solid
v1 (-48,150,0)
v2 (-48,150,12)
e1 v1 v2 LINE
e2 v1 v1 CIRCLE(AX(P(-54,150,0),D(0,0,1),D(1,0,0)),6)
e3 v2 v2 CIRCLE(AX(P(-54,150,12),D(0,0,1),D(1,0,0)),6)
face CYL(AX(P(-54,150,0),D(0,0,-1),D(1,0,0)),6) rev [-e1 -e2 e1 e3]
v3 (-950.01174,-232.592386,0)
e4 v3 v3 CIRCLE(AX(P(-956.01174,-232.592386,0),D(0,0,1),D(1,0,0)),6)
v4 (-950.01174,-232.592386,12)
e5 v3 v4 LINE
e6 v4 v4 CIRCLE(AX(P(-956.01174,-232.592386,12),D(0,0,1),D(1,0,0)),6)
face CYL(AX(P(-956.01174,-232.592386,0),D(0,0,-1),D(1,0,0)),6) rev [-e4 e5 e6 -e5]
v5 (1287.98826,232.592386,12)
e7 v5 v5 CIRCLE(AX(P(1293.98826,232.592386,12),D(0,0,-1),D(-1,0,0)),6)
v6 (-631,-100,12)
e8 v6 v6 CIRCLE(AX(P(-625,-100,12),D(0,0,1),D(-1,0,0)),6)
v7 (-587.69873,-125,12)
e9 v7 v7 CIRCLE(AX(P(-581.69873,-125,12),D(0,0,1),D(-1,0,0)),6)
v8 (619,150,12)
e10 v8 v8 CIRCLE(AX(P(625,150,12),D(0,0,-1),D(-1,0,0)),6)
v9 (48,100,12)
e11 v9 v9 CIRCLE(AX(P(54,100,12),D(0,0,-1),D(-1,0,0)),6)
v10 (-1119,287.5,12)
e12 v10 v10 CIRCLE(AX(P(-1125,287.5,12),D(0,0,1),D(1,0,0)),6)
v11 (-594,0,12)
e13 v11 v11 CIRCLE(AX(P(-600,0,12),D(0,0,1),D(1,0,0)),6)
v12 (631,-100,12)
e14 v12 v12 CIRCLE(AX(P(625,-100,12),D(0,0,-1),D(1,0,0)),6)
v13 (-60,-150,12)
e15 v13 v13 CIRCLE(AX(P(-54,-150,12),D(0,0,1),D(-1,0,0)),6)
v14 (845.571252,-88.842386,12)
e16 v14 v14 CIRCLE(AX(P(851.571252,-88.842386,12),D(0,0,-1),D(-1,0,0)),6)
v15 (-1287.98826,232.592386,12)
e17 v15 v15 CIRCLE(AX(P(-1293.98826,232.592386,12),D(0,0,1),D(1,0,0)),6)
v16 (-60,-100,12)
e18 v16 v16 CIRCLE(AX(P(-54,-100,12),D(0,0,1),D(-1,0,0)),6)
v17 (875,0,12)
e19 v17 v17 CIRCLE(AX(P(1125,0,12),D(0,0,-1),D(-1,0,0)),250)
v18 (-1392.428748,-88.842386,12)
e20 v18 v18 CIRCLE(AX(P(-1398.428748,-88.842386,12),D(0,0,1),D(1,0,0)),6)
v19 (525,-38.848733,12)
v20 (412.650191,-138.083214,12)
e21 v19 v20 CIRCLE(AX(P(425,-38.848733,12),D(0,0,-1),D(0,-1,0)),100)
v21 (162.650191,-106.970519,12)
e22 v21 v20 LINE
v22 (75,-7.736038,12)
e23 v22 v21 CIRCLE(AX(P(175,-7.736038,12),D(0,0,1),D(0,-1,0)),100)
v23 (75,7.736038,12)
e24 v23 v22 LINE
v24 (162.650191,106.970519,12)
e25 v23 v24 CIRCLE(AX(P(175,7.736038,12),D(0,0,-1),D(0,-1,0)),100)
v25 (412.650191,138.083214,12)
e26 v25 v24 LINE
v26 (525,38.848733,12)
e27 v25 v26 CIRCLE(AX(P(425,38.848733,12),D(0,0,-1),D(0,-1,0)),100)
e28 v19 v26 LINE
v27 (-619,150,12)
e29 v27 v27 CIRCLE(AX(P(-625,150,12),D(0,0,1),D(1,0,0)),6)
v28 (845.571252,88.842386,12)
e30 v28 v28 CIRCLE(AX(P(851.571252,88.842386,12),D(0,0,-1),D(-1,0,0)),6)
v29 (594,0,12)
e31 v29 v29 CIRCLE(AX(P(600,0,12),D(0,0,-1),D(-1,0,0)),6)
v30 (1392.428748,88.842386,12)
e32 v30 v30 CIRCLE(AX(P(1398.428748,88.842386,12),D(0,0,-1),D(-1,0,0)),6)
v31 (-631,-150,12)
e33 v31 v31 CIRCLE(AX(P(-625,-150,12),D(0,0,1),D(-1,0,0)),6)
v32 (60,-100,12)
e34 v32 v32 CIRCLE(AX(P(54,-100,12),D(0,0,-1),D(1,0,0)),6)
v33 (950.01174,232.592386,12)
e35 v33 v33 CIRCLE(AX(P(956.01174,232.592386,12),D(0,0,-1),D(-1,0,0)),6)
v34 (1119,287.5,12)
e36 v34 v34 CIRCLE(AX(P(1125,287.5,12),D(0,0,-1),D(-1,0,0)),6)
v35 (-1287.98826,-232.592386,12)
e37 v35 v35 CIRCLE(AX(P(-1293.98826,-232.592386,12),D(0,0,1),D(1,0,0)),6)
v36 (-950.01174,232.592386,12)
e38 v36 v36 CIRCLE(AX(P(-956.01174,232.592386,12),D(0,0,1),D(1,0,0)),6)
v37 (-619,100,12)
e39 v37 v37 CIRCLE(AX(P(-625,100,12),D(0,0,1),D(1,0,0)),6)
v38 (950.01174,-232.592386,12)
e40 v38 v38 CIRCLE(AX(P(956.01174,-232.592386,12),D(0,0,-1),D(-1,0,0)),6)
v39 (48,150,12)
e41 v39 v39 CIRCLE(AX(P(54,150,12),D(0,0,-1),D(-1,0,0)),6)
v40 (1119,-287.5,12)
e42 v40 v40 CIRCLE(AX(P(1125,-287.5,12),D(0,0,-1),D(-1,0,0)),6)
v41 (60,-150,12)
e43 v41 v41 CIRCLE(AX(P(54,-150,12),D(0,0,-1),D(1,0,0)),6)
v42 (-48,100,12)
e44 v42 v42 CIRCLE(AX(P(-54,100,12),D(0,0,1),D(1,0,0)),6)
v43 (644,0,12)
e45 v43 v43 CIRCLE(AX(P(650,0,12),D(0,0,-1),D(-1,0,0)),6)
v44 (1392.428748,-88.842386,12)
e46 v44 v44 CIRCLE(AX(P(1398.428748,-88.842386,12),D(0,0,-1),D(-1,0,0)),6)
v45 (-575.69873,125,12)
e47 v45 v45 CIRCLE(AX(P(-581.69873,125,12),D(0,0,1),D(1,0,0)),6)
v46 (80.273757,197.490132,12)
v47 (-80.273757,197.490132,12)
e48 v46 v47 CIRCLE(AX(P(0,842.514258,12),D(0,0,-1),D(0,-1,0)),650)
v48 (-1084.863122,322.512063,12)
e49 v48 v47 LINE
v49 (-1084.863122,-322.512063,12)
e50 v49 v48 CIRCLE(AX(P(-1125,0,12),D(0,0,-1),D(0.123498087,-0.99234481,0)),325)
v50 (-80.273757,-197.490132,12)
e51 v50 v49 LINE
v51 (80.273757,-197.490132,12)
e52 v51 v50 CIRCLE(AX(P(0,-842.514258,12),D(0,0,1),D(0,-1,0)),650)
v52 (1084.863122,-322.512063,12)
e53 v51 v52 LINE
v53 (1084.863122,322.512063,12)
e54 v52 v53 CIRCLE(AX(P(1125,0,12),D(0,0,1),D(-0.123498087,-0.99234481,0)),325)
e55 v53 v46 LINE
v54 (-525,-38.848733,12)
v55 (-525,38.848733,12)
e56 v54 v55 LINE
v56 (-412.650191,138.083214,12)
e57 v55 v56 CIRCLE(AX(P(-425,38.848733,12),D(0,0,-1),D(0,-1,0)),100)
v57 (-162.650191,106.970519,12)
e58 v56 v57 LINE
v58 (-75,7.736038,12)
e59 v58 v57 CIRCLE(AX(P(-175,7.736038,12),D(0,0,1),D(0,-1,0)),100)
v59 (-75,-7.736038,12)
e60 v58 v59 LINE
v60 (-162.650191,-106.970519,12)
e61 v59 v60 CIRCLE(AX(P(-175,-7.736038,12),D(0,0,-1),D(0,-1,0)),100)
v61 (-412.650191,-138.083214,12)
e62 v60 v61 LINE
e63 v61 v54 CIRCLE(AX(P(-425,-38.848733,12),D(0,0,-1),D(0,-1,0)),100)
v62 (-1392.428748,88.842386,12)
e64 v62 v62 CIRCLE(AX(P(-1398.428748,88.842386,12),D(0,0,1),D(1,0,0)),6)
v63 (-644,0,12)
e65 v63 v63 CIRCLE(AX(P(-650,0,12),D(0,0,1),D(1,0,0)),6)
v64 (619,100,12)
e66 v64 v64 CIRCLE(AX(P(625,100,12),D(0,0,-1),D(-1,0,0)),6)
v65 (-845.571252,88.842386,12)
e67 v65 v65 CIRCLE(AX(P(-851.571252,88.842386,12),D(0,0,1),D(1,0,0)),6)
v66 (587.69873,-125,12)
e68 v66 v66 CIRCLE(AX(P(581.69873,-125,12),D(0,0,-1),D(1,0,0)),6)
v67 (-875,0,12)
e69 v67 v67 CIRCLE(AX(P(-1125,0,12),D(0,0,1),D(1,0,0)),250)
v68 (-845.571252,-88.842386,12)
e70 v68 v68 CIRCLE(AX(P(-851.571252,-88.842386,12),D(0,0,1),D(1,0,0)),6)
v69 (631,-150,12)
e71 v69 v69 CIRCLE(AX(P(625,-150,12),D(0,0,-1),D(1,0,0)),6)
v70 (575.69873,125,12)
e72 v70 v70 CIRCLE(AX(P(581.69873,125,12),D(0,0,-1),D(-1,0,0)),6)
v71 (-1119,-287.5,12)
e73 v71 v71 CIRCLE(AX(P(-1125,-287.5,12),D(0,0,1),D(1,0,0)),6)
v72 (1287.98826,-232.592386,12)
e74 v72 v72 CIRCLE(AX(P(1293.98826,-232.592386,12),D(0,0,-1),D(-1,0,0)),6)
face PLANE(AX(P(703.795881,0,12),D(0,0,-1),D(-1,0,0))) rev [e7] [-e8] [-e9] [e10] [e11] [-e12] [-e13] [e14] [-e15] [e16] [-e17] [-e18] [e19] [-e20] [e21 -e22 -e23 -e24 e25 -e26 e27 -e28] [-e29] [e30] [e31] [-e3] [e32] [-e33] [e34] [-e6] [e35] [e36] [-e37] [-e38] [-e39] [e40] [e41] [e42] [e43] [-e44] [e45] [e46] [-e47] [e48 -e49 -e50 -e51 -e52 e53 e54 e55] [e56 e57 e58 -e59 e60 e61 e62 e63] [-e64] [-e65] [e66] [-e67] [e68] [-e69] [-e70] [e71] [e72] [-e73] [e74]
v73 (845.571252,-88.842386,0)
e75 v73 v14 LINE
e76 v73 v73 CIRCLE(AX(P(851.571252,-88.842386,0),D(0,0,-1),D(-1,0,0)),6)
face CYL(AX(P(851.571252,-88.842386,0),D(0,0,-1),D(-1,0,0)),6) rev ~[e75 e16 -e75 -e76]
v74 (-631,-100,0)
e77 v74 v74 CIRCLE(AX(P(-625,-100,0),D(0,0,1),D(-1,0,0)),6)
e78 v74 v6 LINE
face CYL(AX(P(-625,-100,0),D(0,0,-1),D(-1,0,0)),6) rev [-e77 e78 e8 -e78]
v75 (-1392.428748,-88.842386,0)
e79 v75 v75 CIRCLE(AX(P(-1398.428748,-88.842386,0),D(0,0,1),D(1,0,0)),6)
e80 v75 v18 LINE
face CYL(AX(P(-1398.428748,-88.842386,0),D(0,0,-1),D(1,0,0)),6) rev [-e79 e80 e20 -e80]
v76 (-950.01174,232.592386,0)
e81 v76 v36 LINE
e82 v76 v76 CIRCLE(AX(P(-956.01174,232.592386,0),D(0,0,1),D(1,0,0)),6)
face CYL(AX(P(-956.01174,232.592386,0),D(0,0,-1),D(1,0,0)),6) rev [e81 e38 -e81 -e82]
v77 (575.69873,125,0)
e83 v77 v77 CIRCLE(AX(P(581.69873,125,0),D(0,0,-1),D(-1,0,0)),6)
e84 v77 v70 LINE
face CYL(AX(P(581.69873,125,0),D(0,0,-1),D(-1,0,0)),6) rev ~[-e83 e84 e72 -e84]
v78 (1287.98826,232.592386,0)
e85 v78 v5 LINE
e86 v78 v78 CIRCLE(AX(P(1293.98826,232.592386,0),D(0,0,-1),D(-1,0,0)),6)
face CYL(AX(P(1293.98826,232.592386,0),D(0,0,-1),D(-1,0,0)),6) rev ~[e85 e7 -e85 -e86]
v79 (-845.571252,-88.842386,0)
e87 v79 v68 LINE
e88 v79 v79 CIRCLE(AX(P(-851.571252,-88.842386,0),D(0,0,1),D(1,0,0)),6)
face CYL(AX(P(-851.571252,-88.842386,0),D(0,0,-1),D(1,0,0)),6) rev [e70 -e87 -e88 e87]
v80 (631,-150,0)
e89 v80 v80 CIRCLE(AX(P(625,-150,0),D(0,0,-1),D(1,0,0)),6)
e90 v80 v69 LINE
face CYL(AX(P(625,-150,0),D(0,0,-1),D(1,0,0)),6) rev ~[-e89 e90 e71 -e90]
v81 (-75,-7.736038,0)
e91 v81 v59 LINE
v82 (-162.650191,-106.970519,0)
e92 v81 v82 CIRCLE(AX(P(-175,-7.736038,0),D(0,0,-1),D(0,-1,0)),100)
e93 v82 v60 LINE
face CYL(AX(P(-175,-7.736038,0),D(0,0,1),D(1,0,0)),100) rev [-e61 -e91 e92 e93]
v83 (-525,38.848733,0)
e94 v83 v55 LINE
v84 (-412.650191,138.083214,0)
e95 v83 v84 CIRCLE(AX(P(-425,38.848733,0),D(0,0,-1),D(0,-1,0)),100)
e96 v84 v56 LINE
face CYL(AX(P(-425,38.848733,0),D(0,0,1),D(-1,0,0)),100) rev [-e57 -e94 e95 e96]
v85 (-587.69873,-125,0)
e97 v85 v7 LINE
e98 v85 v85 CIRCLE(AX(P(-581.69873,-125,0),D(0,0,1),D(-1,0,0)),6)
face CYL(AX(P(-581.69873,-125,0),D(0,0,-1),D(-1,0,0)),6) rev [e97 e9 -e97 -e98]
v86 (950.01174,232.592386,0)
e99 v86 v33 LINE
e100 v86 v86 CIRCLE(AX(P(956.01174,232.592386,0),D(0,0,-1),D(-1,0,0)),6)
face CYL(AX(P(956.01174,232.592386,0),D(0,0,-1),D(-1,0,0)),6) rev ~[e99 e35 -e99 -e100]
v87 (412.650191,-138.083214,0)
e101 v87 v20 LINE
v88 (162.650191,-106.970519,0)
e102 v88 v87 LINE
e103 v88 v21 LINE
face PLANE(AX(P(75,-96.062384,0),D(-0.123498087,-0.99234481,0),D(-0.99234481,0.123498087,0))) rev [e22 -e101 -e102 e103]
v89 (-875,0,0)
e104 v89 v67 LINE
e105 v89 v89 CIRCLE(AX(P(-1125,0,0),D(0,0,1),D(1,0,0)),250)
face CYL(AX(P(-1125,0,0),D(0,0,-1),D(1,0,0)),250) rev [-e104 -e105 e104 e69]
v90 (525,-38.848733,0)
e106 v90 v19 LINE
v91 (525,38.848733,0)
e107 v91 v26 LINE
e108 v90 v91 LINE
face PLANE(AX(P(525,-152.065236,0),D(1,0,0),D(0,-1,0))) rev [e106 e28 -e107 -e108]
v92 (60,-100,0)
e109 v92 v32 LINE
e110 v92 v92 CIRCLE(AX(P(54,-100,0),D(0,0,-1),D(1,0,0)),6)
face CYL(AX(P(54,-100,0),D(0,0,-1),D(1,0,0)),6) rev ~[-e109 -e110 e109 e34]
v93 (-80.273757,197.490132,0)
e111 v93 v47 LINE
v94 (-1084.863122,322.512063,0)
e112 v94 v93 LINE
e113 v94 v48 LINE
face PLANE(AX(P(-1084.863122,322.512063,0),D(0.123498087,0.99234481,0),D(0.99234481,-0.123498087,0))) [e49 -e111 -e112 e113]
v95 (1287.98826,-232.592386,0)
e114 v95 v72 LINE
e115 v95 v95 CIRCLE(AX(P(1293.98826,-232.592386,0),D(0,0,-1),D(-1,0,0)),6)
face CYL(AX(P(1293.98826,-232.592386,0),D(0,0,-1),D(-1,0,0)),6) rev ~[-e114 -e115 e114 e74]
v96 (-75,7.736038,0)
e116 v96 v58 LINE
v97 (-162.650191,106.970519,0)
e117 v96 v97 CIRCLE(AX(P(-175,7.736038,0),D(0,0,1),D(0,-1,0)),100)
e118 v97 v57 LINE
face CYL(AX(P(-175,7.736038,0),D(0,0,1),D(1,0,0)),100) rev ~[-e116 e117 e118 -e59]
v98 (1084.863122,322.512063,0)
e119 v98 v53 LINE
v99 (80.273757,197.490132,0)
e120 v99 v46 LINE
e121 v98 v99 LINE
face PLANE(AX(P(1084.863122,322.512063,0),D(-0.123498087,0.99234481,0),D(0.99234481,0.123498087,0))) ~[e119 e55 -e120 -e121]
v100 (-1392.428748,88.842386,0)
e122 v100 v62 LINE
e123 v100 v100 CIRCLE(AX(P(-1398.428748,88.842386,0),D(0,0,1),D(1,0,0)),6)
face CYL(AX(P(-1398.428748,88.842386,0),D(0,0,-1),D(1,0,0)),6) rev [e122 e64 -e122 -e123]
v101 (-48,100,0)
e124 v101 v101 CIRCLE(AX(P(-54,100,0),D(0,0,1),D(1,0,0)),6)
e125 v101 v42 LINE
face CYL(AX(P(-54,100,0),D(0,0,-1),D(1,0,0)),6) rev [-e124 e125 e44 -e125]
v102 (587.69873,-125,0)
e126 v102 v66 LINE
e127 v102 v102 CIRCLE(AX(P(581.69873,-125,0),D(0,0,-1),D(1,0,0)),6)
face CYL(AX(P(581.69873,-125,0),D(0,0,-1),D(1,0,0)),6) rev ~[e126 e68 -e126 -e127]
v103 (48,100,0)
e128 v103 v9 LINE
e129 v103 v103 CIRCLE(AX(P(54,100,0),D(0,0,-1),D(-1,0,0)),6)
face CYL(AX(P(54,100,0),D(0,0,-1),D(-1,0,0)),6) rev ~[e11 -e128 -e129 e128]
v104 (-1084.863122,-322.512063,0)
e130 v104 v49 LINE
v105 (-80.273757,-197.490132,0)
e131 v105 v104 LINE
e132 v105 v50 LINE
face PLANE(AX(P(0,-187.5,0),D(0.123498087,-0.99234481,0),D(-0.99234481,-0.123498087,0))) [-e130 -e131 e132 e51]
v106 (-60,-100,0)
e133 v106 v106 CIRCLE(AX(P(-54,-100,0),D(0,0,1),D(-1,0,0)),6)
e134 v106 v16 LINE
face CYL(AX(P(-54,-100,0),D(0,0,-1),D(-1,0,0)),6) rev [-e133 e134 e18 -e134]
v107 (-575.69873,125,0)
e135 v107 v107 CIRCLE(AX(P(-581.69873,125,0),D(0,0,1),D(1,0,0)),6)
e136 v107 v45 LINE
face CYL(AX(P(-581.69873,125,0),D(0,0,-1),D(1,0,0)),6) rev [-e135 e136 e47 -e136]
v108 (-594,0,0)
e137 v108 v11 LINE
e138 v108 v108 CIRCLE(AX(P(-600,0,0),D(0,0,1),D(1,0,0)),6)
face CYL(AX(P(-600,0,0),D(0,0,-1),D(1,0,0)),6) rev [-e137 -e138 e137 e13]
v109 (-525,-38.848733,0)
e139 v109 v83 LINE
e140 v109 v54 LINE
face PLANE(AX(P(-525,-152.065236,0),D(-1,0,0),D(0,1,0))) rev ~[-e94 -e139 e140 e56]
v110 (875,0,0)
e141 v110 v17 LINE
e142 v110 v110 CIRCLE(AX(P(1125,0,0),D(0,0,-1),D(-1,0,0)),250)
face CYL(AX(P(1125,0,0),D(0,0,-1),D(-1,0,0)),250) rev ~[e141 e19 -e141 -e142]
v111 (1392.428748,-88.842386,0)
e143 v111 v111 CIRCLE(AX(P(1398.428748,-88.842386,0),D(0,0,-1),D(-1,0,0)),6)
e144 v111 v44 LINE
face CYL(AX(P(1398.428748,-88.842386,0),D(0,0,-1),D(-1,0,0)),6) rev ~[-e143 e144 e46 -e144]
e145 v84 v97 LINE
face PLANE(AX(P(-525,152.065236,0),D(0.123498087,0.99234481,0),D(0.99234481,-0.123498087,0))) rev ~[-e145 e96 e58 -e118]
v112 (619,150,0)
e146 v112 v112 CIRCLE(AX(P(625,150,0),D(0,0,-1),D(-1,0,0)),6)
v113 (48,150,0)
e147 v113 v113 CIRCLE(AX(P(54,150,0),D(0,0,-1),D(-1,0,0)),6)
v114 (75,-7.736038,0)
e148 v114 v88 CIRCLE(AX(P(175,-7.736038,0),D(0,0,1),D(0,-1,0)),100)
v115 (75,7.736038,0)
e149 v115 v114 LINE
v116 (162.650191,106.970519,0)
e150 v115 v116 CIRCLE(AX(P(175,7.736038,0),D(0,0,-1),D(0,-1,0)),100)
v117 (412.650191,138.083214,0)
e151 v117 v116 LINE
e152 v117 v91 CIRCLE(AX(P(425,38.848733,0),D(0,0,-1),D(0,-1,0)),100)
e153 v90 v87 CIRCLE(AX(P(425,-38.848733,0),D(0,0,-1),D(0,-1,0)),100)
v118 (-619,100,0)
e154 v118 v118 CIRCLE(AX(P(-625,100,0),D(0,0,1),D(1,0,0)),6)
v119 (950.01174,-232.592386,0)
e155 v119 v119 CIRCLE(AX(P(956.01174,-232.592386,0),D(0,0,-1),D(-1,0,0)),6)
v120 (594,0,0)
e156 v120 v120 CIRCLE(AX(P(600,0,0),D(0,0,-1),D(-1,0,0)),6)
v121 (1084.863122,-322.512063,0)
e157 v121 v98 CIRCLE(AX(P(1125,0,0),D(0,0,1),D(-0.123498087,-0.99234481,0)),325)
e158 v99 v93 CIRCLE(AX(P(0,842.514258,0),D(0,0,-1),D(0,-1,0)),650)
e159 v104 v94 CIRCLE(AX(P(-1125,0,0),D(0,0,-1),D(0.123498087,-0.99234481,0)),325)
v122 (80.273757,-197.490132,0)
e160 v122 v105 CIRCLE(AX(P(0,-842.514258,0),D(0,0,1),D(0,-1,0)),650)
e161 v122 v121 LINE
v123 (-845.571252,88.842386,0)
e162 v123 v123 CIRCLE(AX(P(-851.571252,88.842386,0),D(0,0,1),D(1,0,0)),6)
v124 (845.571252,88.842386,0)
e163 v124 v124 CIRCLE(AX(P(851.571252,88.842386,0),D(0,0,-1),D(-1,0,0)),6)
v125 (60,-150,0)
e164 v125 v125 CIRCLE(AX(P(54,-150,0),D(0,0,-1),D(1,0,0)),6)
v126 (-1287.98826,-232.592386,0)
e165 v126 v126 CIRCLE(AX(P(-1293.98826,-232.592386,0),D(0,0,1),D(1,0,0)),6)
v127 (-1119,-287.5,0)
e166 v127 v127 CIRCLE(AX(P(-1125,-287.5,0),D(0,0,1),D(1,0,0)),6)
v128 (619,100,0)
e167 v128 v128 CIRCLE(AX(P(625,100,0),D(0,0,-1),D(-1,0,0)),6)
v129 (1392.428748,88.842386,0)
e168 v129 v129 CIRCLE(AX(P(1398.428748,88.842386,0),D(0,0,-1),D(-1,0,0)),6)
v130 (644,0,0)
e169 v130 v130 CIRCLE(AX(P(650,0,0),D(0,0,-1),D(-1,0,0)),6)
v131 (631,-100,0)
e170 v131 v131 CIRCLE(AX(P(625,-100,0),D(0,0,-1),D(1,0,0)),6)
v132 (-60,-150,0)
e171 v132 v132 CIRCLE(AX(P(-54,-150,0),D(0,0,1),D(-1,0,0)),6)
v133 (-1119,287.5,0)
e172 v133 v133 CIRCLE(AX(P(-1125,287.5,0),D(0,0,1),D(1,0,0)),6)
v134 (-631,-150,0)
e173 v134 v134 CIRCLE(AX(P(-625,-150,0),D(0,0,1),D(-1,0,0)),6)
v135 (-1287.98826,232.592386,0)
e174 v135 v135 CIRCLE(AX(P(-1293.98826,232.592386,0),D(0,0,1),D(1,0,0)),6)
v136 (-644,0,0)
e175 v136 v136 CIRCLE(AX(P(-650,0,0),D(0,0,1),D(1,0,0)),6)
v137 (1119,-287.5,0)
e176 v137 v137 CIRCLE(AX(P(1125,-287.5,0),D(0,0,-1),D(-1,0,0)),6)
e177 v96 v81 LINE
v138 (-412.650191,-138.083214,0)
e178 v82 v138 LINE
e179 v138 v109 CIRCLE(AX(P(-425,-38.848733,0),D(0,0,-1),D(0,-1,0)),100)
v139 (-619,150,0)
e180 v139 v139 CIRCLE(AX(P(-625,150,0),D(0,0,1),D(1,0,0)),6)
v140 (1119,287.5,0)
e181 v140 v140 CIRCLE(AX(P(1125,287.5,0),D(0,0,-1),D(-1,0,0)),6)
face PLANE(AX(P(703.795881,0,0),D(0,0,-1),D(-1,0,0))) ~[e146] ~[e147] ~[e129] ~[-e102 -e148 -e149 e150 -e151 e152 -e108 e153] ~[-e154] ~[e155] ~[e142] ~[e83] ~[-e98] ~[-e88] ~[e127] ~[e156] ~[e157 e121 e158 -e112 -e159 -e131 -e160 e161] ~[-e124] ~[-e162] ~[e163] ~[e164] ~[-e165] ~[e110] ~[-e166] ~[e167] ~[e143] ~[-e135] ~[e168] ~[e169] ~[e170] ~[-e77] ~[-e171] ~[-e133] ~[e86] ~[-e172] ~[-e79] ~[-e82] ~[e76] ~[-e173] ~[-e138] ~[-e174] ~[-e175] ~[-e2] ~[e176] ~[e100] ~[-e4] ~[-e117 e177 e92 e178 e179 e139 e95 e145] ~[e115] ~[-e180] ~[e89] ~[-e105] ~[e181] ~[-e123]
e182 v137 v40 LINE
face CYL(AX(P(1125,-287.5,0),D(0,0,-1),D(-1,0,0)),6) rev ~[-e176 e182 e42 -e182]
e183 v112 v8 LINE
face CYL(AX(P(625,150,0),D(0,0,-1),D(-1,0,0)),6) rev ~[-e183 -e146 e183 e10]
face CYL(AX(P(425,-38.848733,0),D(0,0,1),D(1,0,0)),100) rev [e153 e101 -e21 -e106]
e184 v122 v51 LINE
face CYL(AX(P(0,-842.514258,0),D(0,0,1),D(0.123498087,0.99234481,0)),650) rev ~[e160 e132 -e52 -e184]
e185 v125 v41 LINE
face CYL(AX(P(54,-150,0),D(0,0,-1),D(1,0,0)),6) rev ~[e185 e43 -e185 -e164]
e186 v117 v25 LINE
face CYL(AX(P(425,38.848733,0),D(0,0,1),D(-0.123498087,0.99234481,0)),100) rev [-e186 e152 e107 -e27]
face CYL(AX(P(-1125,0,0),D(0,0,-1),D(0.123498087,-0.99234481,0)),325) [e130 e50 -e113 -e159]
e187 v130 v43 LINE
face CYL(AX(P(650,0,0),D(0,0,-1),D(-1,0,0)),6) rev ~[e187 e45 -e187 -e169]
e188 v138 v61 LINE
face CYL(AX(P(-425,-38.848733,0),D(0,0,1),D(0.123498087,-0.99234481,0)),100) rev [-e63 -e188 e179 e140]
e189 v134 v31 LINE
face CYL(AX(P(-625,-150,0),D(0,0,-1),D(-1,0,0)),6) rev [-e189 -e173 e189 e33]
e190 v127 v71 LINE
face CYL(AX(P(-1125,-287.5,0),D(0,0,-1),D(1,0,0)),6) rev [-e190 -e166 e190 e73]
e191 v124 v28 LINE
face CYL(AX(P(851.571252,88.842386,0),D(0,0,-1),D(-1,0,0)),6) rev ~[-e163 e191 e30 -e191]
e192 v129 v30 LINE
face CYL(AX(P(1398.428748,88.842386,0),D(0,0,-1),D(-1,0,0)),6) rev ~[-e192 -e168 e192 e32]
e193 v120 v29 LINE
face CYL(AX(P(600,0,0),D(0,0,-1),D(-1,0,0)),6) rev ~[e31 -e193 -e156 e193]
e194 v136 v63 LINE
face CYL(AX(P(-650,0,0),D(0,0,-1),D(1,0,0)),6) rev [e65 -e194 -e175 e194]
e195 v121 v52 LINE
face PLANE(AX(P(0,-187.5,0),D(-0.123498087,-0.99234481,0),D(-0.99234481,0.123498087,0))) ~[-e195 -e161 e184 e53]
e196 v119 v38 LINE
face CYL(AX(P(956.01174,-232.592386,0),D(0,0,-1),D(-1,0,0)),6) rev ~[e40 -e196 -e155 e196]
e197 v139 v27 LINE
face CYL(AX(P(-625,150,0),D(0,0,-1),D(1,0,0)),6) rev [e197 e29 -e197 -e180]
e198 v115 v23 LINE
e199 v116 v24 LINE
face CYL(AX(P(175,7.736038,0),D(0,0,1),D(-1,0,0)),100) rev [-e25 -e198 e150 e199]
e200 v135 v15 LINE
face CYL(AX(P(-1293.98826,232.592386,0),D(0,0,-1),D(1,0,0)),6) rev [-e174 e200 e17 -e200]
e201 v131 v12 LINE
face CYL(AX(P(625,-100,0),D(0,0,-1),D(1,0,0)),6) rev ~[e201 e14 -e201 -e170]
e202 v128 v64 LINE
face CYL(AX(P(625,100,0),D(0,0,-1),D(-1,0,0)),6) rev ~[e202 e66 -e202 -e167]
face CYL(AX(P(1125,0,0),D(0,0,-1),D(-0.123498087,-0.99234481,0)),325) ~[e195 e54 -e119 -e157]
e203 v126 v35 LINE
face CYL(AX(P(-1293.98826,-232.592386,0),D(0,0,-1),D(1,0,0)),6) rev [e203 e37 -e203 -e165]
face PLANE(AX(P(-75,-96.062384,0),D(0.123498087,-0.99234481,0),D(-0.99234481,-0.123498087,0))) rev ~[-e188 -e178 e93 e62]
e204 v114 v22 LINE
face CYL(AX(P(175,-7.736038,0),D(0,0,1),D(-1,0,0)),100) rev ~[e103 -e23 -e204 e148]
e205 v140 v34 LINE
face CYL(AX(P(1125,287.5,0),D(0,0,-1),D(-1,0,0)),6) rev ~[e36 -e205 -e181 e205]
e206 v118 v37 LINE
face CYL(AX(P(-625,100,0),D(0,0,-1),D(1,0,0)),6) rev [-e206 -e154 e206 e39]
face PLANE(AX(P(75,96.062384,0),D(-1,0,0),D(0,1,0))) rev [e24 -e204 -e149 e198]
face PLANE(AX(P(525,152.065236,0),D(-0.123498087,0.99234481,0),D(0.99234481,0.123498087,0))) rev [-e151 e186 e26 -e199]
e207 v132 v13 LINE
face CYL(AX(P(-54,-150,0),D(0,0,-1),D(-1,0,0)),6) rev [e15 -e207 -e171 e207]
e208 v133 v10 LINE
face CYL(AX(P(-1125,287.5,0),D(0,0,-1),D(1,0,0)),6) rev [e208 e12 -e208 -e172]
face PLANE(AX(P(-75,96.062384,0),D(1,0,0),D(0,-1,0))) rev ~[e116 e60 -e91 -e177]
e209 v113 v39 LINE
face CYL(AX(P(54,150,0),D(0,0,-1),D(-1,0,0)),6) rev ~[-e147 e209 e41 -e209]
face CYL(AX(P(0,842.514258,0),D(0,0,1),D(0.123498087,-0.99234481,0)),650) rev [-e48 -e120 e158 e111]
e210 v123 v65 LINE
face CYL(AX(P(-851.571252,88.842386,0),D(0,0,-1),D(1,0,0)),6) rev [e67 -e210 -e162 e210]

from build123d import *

# Parameters (mm, degrees)
SKETCH1_R           = 250
SKETCH1_R_2         = 6
BOSS_EXTRUDE1_DEPTH = 12
FILLET1_R           = 650
FILLET2_R           = 100


with BuildPart() as part:
    # Sketch1 → Boss-Extrude1 (new body)
    with BuildSketch(Plane.XY):
        with BuildLine():
            Line((-1084.863121667, 322.512063337), (0, 187.5))
            Line((0, 187.5), (0, -187.5))
            Line((0, -187.5), (-1084.863121667, -322.512063337))
            ThreePointArc((-1084.863121667, -322.512063337), (-1450, 0), (-1084.863121667, 322.512063337))
        make_face()
        with Locations((-1125, 0)):
            Circle(SKETCH1_R, mode=Mode.SUBTRACT)
        with Locations((-1125, 287.5)):
            Circle(SKETCH1_R_2, mode=Mode.SUBTRACT)
        with Locations((-956.011739966, 232.592385883)):
            Circle(SKETCH1_R_2, mode=Mode.SUBTRACT)
        with Locations((-851.571251565, 88.842385883)):
            Circle(SKETCH1_R_2, mode=Mode.SUBTRACT)
        with Locations((-851.571251565, -88.842385883)):
            Circle(SKETCH1_R_2, mode=Mode.SUBTRACT)
        with Locations((-956.011739966, -232.592385883)):
            Circle(SKETCH1_R_2, mode=Mode.SUBTRACT)
        with Locations((-1125, -287.5)):
            Circle(SKETCH1_R_2, mode=Mode.SUBTRACT)
        with Locations((-1293.988260034, -232.592385883)):
            Circle(SKETCH1_R_2, mode=Mode.SUBTRACT)
        with Locations((-1398.428748435, -88.842385883)):
            Circle(SKETCH1_R_2, mode=Mode.SUBTRACT)
        with Locations((-1398.428748435, 88.842385883)):
            Circle(SKETCH1_R_2, mode=Mode.SUBTRACT)
        with Locations((-1293.988260034, 232.592385883)):
            Circle(SKETCH1_R_2, mode=Mode.SUBTRACT)
        with Locations((-625, 150)):
            Circle(SKETCH1_R_2, mode=Mode.SUBTRACT)
        with Locations((-625, 100)):
            Circle(SKETCH1_R_2, mode=Mode.SUBTRACT)
        with Locations((-581.698729811, 125)):
            Circle(SKETCH1_R_2, mode=Mode.SUBTRACT)
        with Locations(Location((-625, -150, 0), (0, 0, 180))):
            Circle(SKETCH1_R_2, mode=Mode.SUBTRACT)
        with Locations(Location((-581.698729811, -125, 0), (0, 0, 180))):
            Circle(SKETCH1_R_2, mode=Mode.SUBTRACT)
        with Locations(Location((-625, -100, 0), (0, 0, 180))):
            Circle(SKETCH1_R_2, mode=Mode.SUBTRACT)
        with Locations((-600, 0)):
            Circle(SKETCH1_R_2, mode=Mode.SUBTRACT)
        with Locations((-650, 0)):
            Circle(SKETCH1_R_2, mode=Mode.SUBTRACT)
        with Locations((-54, 150)):
            Circle(SKETCH1_R_2, mode=Mode.SUBTRACT)
        with Locations((-54, 100)):
            Circle(SKETCH1_R_2, mode=Mode.SUBTRACT)
        with Locations(Location((-54, -150, 0), (0, 0, 180))):
            Circle(SKETCH1_R_2, mode=Mode.SUBTRACT)
        with Locations(Location((-54, -100, 0), (0, 0, 180))):
            Circle(SKETCH1_R_2, mode=Mode.SUBTRACT)
        Polygon((-75, 96.062384241), (-75, -96.062384241), (-525, -152.065235926), (-525, 152.065235926), align=None, mode=Mode.SUBTRACT)
    boss_extrude1 = extrude(amount=BOSS_EXTRUDE1_DEPTH)

    # Mirror1: Boss-Extrude1 across plane
    add(boss_extrude1.mirror(Plane(origin=(0, -187.5, 12), x_dir=(0, 0, 1), z_dir=(-1, 0, 0))))

    # Fillet1
    fillet1_edges = [part.edges().sort_by_distance(p)[0] for p in [
        (0, 187.5, 6),
        (0, -187.5, 6),
    ]]
    fillet(fillet1_edges, radius=FILLET1_R)

    # Fillet2
    fillet2_edges = [part.edges().sort_by_distance(p)[0] for p in [
        (75, 96.062384241, 6),
        (75, -96.062384241, 6),
        (525, -152.065235926, 6),
        (525, 152.065235926, 6),
        (-75, 96.062384241, 6),
        (-525, 152.065235926, 6),
        (-525, -152.065235926, 6),
        (-75, -96.062384241, 6),
    ]]
    fillet(fillet2_edges, radius=FILLET2_R)


solid = part.part
